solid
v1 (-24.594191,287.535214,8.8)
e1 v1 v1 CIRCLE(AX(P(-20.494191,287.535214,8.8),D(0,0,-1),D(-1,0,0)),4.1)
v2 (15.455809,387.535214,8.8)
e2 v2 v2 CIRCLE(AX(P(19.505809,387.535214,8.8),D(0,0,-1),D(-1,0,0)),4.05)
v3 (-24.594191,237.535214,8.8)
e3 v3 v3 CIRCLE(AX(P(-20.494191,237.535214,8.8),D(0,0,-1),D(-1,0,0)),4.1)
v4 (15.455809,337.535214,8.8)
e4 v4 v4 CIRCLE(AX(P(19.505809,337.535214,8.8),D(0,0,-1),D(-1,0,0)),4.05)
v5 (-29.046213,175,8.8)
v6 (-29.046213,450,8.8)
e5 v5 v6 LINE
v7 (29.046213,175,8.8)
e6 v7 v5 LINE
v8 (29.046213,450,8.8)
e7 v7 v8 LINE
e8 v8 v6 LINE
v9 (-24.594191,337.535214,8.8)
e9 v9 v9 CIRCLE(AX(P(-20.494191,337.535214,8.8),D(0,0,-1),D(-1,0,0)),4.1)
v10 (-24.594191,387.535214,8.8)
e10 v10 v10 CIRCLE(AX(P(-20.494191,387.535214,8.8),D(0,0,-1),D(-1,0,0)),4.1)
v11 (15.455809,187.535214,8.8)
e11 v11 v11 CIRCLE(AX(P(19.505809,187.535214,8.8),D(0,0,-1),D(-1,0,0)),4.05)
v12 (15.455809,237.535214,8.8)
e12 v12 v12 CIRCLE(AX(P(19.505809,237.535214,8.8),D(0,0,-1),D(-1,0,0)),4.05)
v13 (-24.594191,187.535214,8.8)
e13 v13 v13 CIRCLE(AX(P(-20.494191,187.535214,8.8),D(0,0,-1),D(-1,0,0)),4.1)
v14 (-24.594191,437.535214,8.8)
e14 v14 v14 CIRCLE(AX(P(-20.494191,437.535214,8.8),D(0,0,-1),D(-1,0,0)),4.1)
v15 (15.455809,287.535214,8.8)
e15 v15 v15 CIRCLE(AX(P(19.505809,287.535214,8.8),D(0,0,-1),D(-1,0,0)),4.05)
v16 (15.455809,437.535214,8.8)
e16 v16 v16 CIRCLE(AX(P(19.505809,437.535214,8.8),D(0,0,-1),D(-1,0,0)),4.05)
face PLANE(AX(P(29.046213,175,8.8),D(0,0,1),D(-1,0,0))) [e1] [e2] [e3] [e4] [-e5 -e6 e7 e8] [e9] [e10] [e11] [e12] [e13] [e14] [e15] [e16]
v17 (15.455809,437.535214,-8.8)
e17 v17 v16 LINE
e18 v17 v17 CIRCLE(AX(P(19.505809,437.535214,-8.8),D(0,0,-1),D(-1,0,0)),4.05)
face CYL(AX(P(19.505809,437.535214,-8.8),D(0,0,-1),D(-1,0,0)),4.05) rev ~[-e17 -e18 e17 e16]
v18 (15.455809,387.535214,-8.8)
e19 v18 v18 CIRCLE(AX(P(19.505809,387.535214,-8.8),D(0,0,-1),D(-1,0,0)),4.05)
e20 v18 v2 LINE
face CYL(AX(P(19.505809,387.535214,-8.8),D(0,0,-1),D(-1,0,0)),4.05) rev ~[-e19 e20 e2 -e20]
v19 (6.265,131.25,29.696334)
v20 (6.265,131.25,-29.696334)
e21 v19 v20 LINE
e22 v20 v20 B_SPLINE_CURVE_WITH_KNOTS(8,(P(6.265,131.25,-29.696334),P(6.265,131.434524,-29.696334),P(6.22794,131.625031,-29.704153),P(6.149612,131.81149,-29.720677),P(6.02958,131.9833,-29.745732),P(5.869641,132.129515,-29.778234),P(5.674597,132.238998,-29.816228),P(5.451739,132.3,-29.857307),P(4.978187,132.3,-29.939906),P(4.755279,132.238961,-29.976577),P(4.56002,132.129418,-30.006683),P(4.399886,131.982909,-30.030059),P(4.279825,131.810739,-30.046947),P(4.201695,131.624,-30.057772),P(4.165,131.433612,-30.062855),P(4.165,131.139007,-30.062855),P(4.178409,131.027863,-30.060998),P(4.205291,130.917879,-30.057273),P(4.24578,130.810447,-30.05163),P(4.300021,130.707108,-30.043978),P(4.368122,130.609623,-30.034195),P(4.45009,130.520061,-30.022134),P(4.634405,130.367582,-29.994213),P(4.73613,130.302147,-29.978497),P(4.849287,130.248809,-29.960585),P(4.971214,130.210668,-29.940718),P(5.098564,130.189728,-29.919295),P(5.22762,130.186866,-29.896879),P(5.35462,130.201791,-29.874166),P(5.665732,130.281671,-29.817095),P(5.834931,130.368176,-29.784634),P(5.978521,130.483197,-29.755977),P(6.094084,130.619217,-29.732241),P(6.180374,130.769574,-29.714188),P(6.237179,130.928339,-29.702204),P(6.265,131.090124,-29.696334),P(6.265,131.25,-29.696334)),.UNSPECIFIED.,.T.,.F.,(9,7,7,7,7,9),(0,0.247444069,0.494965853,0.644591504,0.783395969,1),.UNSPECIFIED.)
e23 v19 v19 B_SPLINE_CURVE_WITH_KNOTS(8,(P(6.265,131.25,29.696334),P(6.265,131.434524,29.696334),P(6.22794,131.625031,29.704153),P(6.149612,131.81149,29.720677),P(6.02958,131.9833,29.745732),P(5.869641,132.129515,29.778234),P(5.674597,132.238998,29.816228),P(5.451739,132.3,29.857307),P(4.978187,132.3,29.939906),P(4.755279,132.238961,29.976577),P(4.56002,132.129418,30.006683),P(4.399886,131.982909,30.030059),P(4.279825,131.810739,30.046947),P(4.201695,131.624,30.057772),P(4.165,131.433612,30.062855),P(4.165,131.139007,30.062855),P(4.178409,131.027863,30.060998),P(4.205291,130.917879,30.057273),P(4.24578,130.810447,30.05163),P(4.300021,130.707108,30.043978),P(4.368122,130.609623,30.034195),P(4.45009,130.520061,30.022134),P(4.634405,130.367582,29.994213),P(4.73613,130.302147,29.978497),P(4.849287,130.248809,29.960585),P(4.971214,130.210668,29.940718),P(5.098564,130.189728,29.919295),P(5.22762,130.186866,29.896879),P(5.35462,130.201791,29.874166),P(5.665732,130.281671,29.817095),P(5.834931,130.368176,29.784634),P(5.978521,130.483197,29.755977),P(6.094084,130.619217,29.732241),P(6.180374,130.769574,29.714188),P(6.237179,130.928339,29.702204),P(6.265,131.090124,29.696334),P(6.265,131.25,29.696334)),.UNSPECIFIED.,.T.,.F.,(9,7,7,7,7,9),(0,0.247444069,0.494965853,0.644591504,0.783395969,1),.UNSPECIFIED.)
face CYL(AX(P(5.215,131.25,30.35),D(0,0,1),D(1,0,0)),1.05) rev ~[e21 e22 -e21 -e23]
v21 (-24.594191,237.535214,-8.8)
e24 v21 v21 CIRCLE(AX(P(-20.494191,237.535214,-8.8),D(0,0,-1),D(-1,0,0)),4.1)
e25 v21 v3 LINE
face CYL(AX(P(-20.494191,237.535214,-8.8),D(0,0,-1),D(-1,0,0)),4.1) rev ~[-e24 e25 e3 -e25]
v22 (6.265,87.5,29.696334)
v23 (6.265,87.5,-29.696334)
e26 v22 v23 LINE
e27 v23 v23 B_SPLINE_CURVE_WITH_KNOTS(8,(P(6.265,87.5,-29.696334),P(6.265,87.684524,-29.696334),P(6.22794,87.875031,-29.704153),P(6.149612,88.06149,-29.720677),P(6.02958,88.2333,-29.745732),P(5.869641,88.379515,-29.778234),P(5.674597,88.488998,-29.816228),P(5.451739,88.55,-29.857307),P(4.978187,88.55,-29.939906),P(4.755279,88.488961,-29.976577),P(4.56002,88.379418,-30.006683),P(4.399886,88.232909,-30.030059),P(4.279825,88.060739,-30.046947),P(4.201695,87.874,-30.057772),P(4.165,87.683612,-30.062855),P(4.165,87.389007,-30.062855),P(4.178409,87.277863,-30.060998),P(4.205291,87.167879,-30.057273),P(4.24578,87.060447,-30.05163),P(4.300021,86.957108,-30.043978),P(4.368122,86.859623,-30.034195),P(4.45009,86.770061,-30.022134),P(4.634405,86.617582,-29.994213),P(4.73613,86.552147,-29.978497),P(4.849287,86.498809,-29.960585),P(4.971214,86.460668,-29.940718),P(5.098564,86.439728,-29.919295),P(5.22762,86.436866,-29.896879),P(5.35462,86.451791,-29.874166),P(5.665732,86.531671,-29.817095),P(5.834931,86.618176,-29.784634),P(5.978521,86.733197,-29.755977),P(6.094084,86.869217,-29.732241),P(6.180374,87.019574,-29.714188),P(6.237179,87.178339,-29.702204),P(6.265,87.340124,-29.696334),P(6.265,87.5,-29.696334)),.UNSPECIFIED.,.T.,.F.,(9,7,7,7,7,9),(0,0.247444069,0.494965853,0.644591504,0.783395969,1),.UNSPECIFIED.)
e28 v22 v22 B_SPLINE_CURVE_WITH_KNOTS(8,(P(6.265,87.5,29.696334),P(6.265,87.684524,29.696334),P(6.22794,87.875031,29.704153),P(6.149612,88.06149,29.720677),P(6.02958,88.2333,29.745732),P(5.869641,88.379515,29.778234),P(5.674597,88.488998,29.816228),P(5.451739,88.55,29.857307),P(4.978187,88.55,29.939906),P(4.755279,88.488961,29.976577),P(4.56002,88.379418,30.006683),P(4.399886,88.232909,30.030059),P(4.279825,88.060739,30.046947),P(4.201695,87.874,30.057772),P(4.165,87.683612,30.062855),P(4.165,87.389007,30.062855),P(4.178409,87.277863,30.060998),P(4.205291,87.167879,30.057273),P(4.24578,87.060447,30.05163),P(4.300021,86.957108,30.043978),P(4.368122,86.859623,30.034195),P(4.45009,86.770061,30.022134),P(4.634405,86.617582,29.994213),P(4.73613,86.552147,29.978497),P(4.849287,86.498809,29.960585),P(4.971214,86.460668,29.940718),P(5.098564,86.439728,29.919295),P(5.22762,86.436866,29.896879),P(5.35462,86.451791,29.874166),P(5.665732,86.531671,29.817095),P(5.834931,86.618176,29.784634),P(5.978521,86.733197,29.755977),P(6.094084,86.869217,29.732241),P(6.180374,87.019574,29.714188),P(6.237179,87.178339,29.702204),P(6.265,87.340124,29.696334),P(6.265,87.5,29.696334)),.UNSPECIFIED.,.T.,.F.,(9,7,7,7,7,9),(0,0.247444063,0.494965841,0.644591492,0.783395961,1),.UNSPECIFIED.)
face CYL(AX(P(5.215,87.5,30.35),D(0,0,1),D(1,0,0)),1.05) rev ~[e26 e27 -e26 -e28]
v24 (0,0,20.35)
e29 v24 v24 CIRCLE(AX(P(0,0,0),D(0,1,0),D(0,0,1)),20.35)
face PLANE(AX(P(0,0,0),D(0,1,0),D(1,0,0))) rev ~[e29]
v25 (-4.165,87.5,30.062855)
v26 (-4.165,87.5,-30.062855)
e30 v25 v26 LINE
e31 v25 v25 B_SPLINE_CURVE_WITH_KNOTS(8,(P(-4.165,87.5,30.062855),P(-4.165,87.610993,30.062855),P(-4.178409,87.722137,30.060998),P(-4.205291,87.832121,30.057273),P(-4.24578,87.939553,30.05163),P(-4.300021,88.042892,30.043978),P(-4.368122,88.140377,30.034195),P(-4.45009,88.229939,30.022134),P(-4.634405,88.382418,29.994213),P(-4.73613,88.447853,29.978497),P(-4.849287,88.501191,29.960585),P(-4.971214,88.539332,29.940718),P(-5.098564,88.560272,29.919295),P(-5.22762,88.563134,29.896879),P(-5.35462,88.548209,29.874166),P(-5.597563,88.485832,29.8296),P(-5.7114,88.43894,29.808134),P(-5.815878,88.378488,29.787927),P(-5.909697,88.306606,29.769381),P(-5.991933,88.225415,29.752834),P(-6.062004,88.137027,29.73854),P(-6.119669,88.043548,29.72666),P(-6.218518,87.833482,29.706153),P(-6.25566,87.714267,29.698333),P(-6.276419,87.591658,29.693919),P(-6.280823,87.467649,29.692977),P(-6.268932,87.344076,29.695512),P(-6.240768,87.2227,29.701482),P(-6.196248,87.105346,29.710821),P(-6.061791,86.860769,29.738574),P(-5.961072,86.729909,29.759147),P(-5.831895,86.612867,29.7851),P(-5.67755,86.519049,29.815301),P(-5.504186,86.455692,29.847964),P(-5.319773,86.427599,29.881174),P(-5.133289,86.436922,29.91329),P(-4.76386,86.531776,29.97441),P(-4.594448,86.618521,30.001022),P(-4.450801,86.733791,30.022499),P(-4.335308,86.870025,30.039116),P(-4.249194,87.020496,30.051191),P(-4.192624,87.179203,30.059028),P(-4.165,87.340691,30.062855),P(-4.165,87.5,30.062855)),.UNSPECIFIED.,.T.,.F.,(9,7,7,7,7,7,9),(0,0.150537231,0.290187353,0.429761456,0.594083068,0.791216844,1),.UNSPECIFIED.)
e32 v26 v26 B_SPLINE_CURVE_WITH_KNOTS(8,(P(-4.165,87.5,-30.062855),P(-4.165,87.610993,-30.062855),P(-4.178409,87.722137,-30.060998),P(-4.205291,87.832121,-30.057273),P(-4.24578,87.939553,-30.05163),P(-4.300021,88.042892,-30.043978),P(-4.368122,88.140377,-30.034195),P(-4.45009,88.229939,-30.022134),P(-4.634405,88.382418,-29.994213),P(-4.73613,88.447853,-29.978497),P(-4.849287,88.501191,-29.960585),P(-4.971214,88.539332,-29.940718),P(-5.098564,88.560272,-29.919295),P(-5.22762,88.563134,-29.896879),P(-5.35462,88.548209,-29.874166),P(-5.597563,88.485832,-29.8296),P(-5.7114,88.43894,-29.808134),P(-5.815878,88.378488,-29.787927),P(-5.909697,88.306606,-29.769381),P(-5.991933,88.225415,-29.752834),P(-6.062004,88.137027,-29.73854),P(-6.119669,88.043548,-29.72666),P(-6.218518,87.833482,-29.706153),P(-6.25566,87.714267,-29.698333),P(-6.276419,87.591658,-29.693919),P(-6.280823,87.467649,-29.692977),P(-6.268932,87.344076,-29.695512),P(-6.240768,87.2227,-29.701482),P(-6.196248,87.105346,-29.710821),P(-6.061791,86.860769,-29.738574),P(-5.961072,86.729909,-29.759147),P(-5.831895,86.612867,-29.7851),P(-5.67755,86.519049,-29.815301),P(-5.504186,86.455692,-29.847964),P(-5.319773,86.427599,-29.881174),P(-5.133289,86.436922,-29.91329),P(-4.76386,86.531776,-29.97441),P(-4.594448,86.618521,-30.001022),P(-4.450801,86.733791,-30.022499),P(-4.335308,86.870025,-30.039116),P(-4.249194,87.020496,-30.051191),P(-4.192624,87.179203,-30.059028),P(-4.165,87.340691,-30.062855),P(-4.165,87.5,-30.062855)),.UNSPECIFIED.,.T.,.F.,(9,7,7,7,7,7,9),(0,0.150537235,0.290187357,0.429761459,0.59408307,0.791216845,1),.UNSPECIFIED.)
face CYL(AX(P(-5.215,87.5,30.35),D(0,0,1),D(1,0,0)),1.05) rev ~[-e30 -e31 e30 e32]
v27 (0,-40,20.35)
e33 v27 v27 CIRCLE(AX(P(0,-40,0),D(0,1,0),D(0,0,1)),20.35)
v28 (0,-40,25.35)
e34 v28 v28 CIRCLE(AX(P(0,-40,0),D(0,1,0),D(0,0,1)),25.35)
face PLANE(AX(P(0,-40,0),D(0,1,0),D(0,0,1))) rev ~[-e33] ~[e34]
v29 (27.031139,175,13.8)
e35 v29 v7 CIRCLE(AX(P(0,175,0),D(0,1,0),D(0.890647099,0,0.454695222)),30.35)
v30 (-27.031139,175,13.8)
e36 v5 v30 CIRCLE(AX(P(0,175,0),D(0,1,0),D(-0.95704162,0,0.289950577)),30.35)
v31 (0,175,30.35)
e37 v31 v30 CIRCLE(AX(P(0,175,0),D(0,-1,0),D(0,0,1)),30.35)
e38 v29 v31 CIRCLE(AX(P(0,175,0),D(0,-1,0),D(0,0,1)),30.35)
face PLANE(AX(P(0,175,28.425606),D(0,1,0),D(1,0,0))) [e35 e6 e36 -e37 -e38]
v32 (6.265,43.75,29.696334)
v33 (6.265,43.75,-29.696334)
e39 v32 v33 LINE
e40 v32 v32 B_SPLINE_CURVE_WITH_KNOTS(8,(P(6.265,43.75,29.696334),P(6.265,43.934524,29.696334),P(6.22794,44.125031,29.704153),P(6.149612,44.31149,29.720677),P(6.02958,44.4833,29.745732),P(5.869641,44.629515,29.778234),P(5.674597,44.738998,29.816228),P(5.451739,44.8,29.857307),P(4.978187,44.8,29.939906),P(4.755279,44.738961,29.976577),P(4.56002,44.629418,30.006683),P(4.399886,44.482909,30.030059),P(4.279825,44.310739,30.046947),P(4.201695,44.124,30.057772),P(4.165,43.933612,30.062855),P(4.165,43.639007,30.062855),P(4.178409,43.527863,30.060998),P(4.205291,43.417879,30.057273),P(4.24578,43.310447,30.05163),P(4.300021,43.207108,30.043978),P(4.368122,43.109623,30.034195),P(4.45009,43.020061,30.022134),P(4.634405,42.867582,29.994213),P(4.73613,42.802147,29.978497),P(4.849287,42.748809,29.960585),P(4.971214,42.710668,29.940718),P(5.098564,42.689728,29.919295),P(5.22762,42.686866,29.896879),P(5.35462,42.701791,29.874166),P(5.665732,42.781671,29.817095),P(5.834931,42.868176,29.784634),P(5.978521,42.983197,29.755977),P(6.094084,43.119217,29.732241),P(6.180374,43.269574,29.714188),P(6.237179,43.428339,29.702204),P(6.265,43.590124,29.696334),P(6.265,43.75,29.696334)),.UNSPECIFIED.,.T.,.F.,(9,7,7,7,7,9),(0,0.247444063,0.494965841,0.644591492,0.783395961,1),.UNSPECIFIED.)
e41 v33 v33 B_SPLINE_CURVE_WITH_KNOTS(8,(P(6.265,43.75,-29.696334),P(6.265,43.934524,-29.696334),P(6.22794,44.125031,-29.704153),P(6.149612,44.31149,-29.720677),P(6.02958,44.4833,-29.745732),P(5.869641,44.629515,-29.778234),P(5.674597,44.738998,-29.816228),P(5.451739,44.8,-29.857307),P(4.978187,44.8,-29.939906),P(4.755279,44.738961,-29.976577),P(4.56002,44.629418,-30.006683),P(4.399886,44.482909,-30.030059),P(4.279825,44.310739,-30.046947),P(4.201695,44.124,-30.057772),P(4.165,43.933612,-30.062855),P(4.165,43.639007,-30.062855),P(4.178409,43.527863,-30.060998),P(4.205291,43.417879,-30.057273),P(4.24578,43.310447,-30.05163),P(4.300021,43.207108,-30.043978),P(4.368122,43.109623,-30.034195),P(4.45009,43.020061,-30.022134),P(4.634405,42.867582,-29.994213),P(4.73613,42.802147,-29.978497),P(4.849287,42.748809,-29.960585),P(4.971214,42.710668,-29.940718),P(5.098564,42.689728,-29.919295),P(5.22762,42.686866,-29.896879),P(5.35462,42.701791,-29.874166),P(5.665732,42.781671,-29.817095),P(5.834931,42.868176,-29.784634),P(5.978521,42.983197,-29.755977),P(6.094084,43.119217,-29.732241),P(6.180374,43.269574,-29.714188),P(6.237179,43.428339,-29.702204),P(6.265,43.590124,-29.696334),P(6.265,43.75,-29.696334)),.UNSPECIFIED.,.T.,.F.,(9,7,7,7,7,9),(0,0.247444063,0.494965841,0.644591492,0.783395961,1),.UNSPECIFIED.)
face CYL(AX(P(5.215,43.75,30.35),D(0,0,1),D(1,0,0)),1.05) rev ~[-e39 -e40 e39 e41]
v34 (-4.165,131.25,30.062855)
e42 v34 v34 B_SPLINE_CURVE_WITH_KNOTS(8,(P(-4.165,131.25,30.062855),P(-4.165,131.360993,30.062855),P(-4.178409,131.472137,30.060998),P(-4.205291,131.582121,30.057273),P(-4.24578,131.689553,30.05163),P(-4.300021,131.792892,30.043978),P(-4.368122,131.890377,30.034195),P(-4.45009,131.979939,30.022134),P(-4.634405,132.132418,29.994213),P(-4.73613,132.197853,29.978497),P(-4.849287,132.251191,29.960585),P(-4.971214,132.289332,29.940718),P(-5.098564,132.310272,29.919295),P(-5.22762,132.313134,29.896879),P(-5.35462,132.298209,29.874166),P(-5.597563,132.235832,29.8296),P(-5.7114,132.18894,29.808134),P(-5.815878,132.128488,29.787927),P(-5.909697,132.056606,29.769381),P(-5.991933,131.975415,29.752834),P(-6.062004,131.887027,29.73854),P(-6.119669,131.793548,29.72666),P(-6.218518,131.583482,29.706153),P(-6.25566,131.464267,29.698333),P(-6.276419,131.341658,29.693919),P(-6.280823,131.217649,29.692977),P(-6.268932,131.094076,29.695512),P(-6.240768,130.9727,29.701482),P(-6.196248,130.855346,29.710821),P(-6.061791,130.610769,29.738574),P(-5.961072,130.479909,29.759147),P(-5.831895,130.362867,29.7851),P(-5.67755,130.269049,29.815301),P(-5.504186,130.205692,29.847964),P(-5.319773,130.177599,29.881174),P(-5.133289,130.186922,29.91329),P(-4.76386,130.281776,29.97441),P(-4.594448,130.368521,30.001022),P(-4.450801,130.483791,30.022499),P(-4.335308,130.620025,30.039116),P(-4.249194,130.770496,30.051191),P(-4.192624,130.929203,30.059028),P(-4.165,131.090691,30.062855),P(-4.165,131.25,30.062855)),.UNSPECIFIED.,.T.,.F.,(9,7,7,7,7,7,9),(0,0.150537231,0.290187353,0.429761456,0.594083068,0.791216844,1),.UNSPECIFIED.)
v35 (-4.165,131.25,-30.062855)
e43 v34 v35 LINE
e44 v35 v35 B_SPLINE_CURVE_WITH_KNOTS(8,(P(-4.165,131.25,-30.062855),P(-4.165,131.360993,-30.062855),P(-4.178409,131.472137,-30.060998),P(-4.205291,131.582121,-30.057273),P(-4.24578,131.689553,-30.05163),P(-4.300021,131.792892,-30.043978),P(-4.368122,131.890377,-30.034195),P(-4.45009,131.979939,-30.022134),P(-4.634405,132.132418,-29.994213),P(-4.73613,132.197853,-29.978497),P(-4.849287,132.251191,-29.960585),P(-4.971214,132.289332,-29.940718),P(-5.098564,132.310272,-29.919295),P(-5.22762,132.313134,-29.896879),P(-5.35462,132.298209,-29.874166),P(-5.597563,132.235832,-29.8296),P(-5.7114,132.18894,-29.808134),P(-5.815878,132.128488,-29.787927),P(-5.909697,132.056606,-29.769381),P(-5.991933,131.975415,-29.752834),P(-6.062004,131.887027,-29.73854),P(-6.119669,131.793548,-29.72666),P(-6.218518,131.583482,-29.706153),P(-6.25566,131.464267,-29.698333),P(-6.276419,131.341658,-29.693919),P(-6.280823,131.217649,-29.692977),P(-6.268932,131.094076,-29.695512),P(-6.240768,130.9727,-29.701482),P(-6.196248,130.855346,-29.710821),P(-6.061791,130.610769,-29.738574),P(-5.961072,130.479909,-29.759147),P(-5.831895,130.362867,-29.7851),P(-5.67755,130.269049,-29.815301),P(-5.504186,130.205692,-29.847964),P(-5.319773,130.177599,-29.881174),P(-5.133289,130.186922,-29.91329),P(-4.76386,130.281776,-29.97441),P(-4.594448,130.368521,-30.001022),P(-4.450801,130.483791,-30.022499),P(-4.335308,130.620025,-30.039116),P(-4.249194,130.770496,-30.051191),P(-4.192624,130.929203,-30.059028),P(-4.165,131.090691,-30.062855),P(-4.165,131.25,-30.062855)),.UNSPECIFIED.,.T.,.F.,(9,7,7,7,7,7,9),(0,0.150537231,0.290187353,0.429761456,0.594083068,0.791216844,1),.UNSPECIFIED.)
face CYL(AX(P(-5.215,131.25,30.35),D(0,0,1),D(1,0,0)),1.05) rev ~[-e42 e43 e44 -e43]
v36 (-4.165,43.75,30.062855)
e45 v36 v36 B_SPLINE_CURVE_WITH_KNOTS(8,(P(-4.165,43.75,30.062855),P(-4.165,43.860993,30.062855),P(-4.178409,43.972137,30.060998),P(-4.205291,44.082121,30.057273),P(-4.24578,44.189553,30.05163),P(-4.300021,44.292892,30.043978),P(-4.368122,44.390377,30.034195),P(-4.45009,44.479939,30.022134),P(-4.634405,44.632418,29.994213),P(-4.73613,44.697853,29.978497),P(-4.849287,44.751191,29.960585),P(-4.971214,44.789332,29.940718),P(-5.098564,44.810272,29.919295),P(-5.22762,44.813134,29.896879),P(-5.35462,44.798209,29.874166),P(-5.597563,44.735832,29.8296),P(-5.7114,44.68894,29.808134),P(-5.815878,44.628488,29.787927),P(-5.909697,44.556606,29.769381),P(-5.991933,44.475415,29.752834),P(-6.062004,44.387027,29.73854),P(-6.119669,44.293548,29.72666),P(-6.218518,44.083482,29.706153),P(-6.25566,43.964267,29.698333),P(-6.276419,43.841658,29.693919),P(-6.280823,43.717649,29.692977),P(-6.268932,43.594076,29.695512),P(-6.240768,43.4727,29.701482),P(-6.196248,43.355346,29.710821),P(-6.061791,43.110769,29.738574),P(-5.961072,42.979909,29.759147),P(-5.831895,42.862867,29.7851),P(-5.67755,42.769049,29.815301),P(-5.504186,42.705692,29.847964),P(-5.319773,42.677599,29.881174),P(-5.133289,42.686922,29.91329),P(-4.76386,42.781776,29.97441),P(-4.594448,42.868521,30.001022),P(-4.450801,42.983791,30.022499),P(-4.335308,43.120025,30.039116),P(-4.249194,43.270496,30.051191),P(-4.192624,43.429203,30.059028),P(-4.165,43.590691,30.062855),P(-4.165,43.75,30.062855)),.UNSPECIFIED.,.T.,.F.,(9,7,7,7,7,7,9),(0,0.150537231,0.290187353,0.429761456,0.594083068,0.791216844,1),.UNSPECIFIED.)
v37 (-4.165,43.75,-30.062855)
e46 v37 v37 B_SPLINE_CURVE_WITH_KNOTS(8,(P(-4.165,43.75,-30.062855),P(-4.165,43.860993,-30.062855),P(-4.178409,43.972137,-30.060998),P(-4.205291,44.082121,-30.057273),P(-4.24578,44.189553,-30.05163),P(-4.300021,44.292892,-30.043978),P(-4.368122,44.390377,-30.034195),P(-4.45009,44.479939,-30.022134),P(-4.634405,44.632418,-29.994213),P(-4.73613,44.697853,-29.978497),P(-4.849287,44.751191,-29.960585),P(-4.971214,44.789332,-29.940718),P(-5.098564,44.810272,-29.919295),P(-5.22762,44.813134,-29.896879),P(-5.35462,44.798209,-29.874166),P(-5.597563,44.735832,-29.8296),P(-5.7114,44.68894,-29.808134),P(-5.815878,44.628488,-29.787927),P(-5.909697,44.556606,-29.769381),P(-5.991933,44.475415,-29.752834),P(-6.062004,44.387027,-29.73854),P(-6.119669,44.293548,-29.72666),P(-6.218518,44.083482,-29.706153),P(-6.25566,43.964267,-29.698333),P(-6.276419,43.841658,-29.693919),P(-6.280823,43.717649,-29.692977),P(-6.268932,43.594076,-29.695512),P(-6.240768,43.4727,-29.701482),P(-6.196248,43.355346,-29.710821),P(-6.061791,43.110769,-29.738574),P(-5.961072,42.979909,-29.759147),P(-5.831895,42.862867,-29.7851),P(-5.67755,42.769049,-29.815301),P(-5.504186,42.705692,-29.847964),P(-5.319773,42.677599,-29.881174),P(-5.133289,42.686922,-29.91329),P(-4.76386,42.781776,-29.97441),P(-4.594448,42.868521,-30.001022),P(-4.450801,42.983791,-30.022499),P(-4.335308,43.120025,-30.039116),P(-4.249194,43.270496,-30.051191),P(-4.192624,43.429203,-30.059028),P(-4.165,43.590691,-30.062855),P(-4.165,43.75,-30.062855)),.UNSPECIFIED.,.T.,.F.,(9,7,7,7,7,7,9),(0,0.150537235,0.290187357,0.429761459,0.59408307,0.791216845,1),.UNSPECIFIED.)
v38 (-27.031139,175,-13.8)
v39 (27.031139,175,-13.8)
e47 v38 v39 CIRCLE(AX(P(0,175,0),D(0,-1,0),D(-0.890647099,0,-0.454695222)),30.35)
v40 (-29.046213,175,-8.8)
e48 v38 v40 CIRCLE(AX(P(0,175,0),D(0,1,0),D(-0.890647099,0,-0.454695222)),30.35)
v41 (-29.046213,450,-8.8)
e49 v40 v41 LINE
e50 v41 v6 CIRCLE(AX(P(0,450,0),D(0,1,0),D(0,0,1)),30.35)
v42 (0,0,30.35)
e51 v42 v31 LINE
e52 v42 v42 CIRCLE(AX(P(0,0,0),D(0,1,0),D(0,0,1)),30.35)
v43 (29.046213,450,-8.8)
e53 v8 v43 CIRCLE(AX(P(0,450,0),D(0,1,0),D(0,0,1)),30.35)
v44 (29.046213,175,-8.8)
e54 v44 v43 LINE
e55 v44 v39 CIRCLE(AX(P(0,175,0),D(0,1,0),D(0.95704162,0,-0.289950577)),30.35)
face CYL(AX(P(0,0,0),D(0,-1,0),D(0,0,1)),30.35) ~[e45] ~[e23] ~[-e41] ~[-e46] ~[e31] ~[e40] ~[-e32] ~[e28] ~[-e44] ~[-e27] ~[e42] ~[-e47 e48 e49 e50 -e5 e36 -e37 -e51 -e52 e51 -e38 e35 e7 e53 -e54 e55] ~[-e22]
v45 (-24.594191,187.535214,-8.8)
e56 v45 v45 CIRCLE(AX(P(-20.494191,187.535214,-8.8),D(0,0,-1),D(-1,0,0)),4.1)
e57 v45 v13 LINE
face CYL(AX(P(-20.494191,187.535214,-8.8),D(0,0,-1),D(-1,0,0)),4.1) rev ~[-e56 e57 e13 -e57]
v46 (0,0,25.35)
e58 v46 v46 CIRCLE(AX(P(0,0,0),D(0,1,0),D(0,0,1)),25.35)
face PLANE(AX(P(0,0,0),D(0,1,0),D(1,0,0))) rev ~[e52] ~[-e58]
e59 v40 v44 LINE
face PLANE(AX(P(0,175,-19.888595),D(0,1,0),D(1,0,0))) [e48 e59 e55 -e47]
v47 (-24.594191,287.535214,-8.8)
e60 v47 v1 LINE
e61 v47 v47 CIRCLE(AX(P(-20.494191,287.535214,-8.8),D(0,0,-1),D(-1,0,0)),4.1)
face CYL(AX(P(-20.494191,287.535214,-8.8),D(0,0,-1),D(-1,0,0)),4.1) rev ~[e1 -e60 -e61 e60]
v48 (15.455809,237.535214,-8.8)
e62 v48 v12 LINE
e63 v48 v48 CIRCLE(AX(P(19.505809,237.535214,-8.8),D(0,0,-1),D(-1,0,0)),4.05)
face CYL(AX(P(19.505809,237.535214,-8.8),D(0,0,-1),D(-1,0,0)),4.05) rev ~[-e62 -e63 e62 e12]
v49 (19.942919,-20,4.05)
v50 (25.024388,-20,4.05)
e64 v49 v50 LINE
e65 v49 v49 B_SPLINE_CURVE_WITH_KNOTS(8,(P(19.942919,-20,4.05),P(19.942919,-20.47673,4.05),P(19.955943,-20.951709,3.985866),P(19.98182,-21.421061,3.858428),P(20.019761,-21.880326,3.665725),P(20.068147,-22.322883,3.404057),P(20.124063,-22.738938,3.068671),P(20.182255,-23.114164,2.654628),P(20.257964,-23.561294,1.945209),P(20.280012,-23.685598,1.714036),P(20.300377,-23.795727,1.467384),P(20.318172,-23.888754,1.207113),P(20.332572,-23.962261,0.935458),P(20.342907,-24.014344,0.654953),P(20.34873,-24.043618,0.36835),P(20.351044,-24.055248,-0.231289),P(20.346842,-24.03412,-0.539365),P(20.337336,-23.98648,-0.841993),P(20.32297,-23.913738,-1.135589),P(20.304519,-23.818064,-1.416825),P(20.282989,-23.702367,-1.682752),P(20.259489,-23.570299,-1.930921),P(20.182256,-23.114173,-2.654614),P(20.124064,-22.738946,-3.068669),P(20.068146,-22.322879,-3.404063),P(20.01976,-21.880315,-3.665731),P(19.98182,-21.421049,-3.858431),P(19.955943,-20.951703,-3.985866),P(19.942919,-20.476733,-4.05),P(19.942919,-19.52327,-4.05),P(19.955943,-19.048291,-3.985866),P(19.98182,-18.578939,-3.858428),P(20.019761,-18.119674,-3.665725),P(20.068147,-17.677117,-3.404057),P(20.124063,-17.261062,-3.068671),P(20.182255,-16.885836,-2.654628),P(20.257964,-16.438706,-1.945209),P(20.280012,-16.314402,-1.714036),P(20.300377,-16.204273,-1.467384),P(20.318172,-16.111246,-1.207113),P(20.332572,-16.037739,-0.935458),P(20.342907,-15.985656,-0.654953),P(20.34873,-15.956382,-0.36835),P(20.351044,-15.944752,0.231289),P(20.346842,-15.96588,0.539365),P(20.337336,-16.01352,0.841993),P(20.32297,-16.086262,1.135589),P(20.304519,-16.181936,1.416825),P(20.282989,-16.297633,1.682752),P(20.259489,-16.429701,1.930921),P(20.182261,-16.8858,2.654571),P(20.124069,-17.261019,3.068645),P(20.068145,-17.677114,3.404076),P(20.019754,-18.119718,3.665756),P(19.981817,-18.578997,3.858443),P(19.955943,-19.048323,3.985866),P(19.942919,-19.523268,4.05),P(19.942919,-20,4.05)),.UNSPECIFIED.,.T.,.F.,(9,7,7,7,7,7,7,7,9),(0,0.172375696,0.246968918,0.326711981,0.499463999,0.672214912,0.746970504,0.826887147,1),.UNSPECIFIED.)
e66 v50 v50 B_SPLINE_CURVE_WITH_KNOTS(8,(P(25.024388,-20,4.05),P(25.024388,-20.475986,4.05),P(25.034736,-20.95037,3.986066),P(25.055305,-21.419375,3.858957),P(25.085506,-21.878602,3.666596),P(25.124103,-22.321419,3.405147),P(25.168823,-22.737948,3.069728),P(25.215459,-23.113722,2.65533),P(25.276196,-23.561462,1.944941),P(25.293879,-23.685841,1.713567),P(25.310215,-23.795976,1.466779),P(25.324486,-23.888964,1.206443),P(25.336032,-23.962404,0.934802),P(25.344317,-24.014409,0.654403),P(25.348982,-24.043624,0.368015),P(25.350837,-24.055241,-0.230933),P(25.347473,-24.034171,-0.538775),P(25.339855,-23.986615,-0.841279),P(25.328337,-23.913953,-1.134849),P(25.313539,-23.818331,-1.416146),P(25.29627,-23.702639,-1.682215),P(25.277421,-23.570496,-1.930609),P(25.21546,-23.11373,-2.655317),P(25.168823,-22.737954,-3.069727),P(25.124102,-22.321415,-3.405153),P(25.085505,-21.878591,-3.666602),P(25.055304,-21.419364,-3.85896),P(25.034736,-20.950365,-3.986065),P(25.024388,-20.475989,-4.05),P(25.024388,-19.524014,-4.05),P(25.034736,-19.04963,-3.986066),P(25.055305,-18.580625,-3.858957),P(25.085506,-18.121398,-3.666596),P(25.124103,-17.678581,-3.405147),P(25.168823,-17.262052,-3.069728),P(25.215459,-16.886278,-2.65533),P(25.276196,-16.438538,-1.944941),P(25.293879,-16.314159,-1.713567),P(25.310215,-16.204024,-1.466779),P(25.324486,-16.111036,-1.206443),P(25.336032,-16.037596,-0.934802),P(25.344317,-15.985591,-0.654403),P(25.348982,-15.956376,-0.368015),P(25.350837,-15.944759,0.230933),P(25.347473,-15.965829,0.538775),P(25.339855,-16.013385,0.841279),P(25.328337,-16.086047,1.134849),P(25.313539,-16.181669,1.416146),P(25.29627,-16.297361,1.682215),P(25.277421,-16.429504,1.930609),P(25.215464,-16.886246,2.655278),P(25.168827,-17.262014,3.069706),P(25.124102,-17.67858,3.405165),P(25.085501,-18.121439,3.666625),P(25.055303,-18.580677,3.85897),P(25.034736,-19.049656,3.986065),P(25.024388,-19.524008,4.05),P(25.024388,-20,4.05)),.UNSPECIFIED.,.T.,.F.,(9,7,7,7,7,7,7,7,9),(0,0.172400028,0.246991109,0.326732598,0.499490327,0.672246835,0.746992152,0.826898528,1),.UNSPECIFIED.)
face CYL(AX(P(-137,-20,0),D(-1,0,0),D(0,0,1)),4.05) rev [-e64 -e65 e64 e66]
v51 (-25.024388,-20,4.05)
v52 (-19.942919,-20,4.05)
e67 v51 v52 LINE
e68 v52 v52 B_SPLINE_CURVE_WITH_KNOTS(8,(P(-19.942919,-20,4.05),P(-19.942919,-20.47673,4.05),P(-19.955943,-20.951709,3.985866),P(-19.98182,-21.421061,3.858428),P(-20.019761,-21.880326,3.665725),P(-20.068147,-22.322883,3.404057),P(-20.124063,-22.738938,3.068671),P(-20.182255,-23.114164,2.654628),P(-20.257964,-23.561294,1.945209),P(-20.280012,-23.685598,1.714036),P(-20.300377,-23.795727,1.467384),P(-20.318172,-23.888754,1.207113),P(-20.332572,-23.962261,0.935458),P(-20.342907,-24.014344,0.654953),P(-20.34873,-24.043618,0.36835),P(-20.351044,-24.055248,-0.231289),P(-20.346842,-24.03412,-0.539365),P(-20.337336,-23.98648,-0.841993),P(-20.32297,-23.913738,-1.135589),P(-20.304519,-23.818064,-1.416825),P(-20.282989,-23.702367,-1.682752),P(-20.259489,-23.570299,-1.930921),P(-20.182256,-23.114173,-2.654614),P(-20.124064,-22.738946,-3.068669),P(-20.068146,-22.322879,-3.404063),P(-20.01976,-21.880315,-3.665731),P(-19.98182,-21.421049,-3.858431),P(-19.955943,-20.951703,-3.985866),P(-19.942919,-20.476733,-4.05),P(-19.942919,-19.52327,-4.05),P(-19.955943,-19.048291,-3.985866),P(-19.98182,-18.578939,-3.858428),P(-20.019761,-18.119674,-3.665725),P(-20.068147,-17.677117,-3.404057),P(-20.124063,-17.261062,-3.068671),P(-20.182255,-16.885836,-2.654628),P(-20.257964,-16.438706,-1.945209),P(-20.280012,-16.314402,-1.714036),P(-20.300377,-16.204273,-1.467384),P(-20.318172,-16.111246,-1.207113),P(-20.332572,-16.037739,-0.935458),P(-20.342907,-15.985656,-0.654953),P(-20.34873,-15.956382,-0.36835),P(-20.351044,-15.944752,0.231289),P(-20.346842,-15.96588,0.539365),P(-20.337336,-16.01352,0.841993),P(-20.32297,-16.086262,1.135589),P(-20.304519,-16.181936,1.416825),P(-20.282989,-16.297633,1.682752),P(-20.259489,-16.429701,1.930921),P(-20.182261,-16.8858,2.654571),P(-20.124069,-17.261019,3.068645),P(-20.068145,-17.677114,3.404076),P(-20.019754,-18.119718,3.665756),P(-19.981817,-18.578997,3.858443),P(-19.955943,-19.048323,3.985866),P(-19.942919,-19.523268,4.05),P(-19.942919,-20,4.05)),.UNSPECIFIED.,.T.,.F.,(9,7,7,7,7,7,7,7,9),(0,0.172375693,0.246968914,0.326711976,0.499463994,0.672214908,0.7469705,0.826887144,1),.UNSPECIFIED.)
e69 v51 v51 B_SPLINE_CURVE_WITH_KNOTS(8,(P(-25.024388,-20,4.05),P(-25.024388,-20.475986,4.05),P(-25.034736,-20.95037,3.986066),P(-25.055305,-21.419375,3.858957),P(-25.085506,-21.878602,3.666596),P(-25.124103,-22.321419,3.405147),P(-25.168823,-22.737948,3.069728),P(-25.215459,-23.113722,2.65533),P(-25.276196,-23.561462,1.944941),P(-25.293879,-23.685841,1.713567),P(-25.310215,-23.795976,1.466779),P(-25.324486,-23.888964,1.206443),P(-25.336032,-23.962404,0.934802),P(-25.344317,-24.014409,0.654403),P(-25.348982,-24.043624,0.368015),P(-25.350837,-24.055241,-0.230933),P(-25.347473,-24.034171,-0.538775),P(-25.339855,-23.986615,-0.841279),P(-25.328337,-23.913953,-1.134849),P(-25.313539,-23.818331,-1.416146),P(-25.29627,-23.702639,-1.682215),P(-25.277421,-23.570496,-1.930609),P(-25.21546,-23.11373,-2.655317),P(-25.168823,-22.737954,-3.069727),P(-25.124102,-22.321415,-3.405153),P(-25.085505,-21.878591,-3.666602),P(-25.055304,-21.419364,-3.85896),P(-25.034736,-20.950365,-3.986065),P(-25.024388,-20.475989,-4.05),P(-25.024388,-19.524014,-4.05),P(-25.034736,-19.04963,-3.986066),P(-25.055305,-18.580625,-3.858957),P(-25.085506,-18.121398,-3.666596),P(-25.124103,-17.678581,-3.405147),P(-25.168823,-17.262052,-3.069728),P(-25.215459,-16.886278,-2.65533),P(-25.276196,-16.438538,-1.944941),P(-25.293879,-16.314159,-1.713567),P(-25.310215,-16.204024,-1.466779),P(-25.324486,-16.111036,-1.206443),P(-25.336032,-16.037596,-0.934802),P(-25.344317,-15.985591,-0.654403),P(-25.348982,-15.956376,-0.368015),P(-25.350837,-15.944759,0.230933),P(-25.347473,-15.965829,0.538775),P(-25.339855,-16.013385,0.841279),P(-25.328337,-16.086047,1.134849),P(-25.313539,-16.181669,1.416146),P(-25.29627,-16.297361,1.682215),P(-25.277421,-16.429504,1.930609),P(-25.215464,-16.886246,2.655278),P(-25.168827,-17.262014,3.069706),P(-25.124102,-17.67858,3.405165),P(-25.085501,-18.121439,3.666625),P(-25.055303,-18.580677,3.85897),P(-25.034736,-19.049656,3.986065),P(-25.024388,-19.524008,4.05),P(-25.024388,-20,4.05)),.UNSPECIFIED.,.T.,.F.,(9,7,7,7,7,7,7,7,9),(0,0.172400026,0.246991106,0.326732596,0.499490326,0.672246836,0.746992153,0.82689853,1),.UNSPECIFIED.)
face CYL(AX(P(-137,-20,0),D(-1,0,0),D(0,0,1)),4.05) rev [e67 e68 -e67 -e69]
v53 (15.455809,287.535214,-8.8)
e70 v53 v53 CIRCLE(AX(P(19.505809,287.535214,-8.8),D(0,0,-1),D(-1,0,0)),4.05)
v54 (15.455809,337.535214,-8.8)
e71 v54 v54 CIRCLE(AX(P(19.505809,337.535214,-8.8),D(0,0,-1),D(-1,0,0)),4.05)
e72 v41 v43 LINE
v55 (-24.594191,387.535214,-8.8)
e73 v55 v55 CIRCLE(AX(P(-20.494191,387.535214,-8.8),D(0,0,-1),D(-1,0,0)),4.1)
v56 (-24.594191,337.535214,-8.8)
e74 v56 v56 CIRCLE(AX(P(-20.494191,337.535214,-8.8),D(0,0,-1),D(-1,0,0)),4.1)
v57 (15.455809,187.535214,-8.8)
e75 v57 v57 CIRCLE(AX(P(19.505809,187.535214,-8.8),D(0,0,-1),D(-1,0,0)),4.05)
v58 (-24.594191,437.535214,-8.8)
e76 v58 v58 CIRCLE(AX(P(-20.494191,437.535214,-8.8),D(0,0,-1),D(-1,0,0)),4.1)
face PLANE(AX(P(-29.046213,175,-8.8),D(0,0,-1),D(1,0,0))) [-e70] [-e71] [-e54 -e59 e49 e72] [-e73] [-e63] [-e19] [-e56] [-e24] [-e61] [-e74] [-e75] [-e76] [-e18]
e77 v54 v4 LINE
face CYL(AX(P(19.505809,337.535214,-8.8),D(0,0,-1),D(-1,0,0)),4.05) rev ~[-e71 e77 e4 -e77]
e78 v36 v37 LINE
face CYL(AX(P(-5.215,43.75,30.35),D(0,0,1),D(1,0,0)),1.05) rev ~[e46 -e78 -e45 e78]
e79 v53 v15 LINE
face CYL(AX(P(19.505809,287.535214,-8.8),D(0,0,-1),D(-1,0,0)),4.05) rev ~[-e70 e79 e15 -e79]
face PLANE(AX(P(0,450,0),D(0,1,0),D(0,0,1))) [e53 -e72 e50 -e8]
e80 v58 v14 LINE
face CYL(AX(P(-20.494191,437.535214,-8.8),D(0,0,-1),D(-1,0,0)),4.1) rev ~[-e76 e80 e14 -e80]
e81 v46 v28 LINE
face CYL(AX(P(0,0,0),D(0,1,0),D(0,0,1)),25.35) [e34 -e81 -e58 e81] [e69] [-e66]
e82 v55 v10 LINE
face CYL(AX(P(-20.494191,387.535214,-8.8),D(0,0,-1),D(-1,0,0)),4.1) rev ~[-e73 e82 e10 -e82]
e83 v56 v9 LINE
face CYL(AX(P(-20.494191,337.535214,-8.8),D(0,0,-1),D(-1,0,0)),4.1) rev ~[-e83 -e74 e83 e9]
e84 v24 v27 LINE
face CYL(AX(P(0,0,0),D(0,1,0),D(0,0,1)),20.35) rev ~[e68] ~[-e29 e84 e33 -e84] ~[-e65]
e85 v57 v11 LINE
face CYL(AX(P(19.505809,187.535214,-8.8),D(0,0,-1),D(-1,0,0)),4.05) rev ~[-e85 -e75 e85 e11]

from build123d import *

# Parameters (mm, degrees)
SKETCH1_R               = 30.35
BOSS_EXTRUDE2_DEPTH     = 450
SKETCH1_3_R             = 25.35
SKETCH1_3_R_2           = 20.35
BOSS_EXTRUDE3_DEPTH     = 40
CUT_EXTRUDE3_START      = -275
CUT_EXTRUDE3_DEPTH      = 275
SKETCH8_R               = 1.05
CUT_EXTRUDE5_DEPTH      = 137
CUT_EXTRUDE6_DEPTH      = 137
CUT_EXTRUDE6_DEPTH_BACK = 137
SKETCH9_R               = 4.05
SKETCH10_R              = 4.05
SKETCH10_R_2            = 4.1
CUT_EXTRUDE7_DEPTH      = 137


with BuildPart() as part:
    # Sketch1 → Boss-Extrude2 (new body)
    with BuildSketch(Plane(origin=(0, 0, 0), x_dir=(1, 0, 0), z_dir=(0, 1, 0))):
        Circle(SKETCH1_R)
    extrude(amount=BOSS_EXTRUDE2_DEPTH)

    # Sketch1<3> → Boss-Extrude3 (add)
    with BuildSketch(Plane(origin=(0, 0, 0), x_dir=(1, 0, 0), z_dir=(0, 1, 0))):
        Circle(SKETCH1_3_R)
        Circle(SKETCH1_3_R_2, mode=Mode.SUBTRACT)
    extrude(amount=-BOSS_EXTRUDE3_DEPTH)

    # Sketch6 → Cut-Extrude3 (cut)
    with BuildSketch(Plane(origin=(0, 450, 0), x_dir=(1, 0, 0), z_dir=(0, 1, 0)).offset(CUT_EXTRUDE3_START)):
        with BuildLine():
            Line((29.046213178, -8.8), (-29.046213178, -8.8))
            ThreePointArc((-29.046213178, -8.8), (-28.149908871, -11.344828361), (-27.031139451, -13.8))
            Line((-27.031139451, -13.8), (-42.831763914, -13.8))
            ThreePointArc((-42.831763914, -13.8), (0, -45), (42.831763914, -13.8))
            Line((42.831763914, -13.8), (27.031139451, -13.8))
            ThreePointArc((27.031139451, -13.8), (28.149908871, -11.344828361), (29.046213178, -8.8))
        make_face()
        with BuildLine():
            Line((-29.046213178, 8.8), (29.046213178, 8.8))
            ThreePointArc((29.046213178, 8.8), (28.149908871, 11.344828361), (27.031139451, 13.8))
            Line((27.031139451, 13.8), (42.831763914, 13.8))
            ThreePointArc((42.831763914, 13.8), (0, 45), (-42.831763914, 13.8))
            Line((-42.831763914, 13.8), (-27.031139451, 13.8))
            ThreePointArc((-27.031139451, 13.8), (-28.149908871, 11.344828361), (-29.046213178, 8.8))
        make_face()
    extrude(amount=CUT_EXTRUDE3_DEPTH, mode=Mode.SUBTRACT)

    # Sketch8 → Cut-Extrude5 (cut)
    with BuildSketch(Plane.XY.offset(30.35)):
        with Locations((5.215, 131.25)):
            Circle(SKETCH8_R)
        with Locations((-5.215, 131.25)):
            Circle(SKETCH8_R)
        with Locations((-5.215, 87.5)):
            Circle(SKETCH8_R)
        with Locations((5.215, 87.5)):
            Circle(SKETCH8_R)
        with Locations((-5.215, 43.75)):
            Circle(SKETCH8_R)
        with Locations((5.215, 43.75)):
            Circle(SKETCH8_R)
    extrude(amount=-CUT_EXTRUDE5_DEPTH, mode=Mode.SUBTRACT)

    # Sketch9 → Cut-Extrude6 (cut, two sides: drawn at the far end of the back side and taken through both)
    with BuildSketch(Plane(origin=(0, 0, 0), x_dir=(0, 0, -1), z_dir=(1, 0, 0)).offset(-CUT_EXTRUDE6_DEPTH_BACK)):
        with Locations((0, -20)):
            Circle(SKETCH9_R)
    extrude(amount=CUT_EXTRUDE6_DEPTH + CUT_EXTRUDE6_DEPTH_BACK, mode=Mode.SUBTRACT)

    # Sketch10 → Cut-Extrude7 (cut)
    with BuildSketch(Plane(origin=(0, 0, -8.8), x_dir=(-1, 0, 0), z_dir=(0, 0, -1))):
        with Locations((-19.505808782, 237.535214406)):
            Circle(SKETCH10_R)
        with Locations((20.494191218, 237.535214406)):
            Circle(SKETCH10_R_2)
        with Locations((-19.505808782, 287.535214406)):
            Circle(SKETCH10_R)
        with Locations((20.494191218, 287.535214406)):
            Circle(SKETCH10_R_2)
        with Locations((-19.505808782, 337.535214406)):
            Circle(SKETCH10_R)
        with Locations((20.494191218, 337.535214406)):
            Circle(SKETCH10_R_2)
        with Locations((-19.505808782, 387.535214406)):
            Circle(SKETCH10_R)
        with Locations((20.494191218, 387.535214406)):
            Circle(SKETCH10_R_2)
        with Locations((-19.505808782, 187.535214406)):
            Circle(SKETCH10_R)
        with Locations((20.494191218, 187.535214406)):
            Circle(SKETCH10_R_2)
        with Locations((-19.505808782, 437.535214406)):
            Circle(SKETCH10_R)
        with Locations((20.494191218, 437.535214406)):
            Circle(SKETCH10_R_2)
    extrude(amount=-CUT_EXTRUDE7_DEPTH, mode=Mode.SUBTRACT)


solid = part.part
